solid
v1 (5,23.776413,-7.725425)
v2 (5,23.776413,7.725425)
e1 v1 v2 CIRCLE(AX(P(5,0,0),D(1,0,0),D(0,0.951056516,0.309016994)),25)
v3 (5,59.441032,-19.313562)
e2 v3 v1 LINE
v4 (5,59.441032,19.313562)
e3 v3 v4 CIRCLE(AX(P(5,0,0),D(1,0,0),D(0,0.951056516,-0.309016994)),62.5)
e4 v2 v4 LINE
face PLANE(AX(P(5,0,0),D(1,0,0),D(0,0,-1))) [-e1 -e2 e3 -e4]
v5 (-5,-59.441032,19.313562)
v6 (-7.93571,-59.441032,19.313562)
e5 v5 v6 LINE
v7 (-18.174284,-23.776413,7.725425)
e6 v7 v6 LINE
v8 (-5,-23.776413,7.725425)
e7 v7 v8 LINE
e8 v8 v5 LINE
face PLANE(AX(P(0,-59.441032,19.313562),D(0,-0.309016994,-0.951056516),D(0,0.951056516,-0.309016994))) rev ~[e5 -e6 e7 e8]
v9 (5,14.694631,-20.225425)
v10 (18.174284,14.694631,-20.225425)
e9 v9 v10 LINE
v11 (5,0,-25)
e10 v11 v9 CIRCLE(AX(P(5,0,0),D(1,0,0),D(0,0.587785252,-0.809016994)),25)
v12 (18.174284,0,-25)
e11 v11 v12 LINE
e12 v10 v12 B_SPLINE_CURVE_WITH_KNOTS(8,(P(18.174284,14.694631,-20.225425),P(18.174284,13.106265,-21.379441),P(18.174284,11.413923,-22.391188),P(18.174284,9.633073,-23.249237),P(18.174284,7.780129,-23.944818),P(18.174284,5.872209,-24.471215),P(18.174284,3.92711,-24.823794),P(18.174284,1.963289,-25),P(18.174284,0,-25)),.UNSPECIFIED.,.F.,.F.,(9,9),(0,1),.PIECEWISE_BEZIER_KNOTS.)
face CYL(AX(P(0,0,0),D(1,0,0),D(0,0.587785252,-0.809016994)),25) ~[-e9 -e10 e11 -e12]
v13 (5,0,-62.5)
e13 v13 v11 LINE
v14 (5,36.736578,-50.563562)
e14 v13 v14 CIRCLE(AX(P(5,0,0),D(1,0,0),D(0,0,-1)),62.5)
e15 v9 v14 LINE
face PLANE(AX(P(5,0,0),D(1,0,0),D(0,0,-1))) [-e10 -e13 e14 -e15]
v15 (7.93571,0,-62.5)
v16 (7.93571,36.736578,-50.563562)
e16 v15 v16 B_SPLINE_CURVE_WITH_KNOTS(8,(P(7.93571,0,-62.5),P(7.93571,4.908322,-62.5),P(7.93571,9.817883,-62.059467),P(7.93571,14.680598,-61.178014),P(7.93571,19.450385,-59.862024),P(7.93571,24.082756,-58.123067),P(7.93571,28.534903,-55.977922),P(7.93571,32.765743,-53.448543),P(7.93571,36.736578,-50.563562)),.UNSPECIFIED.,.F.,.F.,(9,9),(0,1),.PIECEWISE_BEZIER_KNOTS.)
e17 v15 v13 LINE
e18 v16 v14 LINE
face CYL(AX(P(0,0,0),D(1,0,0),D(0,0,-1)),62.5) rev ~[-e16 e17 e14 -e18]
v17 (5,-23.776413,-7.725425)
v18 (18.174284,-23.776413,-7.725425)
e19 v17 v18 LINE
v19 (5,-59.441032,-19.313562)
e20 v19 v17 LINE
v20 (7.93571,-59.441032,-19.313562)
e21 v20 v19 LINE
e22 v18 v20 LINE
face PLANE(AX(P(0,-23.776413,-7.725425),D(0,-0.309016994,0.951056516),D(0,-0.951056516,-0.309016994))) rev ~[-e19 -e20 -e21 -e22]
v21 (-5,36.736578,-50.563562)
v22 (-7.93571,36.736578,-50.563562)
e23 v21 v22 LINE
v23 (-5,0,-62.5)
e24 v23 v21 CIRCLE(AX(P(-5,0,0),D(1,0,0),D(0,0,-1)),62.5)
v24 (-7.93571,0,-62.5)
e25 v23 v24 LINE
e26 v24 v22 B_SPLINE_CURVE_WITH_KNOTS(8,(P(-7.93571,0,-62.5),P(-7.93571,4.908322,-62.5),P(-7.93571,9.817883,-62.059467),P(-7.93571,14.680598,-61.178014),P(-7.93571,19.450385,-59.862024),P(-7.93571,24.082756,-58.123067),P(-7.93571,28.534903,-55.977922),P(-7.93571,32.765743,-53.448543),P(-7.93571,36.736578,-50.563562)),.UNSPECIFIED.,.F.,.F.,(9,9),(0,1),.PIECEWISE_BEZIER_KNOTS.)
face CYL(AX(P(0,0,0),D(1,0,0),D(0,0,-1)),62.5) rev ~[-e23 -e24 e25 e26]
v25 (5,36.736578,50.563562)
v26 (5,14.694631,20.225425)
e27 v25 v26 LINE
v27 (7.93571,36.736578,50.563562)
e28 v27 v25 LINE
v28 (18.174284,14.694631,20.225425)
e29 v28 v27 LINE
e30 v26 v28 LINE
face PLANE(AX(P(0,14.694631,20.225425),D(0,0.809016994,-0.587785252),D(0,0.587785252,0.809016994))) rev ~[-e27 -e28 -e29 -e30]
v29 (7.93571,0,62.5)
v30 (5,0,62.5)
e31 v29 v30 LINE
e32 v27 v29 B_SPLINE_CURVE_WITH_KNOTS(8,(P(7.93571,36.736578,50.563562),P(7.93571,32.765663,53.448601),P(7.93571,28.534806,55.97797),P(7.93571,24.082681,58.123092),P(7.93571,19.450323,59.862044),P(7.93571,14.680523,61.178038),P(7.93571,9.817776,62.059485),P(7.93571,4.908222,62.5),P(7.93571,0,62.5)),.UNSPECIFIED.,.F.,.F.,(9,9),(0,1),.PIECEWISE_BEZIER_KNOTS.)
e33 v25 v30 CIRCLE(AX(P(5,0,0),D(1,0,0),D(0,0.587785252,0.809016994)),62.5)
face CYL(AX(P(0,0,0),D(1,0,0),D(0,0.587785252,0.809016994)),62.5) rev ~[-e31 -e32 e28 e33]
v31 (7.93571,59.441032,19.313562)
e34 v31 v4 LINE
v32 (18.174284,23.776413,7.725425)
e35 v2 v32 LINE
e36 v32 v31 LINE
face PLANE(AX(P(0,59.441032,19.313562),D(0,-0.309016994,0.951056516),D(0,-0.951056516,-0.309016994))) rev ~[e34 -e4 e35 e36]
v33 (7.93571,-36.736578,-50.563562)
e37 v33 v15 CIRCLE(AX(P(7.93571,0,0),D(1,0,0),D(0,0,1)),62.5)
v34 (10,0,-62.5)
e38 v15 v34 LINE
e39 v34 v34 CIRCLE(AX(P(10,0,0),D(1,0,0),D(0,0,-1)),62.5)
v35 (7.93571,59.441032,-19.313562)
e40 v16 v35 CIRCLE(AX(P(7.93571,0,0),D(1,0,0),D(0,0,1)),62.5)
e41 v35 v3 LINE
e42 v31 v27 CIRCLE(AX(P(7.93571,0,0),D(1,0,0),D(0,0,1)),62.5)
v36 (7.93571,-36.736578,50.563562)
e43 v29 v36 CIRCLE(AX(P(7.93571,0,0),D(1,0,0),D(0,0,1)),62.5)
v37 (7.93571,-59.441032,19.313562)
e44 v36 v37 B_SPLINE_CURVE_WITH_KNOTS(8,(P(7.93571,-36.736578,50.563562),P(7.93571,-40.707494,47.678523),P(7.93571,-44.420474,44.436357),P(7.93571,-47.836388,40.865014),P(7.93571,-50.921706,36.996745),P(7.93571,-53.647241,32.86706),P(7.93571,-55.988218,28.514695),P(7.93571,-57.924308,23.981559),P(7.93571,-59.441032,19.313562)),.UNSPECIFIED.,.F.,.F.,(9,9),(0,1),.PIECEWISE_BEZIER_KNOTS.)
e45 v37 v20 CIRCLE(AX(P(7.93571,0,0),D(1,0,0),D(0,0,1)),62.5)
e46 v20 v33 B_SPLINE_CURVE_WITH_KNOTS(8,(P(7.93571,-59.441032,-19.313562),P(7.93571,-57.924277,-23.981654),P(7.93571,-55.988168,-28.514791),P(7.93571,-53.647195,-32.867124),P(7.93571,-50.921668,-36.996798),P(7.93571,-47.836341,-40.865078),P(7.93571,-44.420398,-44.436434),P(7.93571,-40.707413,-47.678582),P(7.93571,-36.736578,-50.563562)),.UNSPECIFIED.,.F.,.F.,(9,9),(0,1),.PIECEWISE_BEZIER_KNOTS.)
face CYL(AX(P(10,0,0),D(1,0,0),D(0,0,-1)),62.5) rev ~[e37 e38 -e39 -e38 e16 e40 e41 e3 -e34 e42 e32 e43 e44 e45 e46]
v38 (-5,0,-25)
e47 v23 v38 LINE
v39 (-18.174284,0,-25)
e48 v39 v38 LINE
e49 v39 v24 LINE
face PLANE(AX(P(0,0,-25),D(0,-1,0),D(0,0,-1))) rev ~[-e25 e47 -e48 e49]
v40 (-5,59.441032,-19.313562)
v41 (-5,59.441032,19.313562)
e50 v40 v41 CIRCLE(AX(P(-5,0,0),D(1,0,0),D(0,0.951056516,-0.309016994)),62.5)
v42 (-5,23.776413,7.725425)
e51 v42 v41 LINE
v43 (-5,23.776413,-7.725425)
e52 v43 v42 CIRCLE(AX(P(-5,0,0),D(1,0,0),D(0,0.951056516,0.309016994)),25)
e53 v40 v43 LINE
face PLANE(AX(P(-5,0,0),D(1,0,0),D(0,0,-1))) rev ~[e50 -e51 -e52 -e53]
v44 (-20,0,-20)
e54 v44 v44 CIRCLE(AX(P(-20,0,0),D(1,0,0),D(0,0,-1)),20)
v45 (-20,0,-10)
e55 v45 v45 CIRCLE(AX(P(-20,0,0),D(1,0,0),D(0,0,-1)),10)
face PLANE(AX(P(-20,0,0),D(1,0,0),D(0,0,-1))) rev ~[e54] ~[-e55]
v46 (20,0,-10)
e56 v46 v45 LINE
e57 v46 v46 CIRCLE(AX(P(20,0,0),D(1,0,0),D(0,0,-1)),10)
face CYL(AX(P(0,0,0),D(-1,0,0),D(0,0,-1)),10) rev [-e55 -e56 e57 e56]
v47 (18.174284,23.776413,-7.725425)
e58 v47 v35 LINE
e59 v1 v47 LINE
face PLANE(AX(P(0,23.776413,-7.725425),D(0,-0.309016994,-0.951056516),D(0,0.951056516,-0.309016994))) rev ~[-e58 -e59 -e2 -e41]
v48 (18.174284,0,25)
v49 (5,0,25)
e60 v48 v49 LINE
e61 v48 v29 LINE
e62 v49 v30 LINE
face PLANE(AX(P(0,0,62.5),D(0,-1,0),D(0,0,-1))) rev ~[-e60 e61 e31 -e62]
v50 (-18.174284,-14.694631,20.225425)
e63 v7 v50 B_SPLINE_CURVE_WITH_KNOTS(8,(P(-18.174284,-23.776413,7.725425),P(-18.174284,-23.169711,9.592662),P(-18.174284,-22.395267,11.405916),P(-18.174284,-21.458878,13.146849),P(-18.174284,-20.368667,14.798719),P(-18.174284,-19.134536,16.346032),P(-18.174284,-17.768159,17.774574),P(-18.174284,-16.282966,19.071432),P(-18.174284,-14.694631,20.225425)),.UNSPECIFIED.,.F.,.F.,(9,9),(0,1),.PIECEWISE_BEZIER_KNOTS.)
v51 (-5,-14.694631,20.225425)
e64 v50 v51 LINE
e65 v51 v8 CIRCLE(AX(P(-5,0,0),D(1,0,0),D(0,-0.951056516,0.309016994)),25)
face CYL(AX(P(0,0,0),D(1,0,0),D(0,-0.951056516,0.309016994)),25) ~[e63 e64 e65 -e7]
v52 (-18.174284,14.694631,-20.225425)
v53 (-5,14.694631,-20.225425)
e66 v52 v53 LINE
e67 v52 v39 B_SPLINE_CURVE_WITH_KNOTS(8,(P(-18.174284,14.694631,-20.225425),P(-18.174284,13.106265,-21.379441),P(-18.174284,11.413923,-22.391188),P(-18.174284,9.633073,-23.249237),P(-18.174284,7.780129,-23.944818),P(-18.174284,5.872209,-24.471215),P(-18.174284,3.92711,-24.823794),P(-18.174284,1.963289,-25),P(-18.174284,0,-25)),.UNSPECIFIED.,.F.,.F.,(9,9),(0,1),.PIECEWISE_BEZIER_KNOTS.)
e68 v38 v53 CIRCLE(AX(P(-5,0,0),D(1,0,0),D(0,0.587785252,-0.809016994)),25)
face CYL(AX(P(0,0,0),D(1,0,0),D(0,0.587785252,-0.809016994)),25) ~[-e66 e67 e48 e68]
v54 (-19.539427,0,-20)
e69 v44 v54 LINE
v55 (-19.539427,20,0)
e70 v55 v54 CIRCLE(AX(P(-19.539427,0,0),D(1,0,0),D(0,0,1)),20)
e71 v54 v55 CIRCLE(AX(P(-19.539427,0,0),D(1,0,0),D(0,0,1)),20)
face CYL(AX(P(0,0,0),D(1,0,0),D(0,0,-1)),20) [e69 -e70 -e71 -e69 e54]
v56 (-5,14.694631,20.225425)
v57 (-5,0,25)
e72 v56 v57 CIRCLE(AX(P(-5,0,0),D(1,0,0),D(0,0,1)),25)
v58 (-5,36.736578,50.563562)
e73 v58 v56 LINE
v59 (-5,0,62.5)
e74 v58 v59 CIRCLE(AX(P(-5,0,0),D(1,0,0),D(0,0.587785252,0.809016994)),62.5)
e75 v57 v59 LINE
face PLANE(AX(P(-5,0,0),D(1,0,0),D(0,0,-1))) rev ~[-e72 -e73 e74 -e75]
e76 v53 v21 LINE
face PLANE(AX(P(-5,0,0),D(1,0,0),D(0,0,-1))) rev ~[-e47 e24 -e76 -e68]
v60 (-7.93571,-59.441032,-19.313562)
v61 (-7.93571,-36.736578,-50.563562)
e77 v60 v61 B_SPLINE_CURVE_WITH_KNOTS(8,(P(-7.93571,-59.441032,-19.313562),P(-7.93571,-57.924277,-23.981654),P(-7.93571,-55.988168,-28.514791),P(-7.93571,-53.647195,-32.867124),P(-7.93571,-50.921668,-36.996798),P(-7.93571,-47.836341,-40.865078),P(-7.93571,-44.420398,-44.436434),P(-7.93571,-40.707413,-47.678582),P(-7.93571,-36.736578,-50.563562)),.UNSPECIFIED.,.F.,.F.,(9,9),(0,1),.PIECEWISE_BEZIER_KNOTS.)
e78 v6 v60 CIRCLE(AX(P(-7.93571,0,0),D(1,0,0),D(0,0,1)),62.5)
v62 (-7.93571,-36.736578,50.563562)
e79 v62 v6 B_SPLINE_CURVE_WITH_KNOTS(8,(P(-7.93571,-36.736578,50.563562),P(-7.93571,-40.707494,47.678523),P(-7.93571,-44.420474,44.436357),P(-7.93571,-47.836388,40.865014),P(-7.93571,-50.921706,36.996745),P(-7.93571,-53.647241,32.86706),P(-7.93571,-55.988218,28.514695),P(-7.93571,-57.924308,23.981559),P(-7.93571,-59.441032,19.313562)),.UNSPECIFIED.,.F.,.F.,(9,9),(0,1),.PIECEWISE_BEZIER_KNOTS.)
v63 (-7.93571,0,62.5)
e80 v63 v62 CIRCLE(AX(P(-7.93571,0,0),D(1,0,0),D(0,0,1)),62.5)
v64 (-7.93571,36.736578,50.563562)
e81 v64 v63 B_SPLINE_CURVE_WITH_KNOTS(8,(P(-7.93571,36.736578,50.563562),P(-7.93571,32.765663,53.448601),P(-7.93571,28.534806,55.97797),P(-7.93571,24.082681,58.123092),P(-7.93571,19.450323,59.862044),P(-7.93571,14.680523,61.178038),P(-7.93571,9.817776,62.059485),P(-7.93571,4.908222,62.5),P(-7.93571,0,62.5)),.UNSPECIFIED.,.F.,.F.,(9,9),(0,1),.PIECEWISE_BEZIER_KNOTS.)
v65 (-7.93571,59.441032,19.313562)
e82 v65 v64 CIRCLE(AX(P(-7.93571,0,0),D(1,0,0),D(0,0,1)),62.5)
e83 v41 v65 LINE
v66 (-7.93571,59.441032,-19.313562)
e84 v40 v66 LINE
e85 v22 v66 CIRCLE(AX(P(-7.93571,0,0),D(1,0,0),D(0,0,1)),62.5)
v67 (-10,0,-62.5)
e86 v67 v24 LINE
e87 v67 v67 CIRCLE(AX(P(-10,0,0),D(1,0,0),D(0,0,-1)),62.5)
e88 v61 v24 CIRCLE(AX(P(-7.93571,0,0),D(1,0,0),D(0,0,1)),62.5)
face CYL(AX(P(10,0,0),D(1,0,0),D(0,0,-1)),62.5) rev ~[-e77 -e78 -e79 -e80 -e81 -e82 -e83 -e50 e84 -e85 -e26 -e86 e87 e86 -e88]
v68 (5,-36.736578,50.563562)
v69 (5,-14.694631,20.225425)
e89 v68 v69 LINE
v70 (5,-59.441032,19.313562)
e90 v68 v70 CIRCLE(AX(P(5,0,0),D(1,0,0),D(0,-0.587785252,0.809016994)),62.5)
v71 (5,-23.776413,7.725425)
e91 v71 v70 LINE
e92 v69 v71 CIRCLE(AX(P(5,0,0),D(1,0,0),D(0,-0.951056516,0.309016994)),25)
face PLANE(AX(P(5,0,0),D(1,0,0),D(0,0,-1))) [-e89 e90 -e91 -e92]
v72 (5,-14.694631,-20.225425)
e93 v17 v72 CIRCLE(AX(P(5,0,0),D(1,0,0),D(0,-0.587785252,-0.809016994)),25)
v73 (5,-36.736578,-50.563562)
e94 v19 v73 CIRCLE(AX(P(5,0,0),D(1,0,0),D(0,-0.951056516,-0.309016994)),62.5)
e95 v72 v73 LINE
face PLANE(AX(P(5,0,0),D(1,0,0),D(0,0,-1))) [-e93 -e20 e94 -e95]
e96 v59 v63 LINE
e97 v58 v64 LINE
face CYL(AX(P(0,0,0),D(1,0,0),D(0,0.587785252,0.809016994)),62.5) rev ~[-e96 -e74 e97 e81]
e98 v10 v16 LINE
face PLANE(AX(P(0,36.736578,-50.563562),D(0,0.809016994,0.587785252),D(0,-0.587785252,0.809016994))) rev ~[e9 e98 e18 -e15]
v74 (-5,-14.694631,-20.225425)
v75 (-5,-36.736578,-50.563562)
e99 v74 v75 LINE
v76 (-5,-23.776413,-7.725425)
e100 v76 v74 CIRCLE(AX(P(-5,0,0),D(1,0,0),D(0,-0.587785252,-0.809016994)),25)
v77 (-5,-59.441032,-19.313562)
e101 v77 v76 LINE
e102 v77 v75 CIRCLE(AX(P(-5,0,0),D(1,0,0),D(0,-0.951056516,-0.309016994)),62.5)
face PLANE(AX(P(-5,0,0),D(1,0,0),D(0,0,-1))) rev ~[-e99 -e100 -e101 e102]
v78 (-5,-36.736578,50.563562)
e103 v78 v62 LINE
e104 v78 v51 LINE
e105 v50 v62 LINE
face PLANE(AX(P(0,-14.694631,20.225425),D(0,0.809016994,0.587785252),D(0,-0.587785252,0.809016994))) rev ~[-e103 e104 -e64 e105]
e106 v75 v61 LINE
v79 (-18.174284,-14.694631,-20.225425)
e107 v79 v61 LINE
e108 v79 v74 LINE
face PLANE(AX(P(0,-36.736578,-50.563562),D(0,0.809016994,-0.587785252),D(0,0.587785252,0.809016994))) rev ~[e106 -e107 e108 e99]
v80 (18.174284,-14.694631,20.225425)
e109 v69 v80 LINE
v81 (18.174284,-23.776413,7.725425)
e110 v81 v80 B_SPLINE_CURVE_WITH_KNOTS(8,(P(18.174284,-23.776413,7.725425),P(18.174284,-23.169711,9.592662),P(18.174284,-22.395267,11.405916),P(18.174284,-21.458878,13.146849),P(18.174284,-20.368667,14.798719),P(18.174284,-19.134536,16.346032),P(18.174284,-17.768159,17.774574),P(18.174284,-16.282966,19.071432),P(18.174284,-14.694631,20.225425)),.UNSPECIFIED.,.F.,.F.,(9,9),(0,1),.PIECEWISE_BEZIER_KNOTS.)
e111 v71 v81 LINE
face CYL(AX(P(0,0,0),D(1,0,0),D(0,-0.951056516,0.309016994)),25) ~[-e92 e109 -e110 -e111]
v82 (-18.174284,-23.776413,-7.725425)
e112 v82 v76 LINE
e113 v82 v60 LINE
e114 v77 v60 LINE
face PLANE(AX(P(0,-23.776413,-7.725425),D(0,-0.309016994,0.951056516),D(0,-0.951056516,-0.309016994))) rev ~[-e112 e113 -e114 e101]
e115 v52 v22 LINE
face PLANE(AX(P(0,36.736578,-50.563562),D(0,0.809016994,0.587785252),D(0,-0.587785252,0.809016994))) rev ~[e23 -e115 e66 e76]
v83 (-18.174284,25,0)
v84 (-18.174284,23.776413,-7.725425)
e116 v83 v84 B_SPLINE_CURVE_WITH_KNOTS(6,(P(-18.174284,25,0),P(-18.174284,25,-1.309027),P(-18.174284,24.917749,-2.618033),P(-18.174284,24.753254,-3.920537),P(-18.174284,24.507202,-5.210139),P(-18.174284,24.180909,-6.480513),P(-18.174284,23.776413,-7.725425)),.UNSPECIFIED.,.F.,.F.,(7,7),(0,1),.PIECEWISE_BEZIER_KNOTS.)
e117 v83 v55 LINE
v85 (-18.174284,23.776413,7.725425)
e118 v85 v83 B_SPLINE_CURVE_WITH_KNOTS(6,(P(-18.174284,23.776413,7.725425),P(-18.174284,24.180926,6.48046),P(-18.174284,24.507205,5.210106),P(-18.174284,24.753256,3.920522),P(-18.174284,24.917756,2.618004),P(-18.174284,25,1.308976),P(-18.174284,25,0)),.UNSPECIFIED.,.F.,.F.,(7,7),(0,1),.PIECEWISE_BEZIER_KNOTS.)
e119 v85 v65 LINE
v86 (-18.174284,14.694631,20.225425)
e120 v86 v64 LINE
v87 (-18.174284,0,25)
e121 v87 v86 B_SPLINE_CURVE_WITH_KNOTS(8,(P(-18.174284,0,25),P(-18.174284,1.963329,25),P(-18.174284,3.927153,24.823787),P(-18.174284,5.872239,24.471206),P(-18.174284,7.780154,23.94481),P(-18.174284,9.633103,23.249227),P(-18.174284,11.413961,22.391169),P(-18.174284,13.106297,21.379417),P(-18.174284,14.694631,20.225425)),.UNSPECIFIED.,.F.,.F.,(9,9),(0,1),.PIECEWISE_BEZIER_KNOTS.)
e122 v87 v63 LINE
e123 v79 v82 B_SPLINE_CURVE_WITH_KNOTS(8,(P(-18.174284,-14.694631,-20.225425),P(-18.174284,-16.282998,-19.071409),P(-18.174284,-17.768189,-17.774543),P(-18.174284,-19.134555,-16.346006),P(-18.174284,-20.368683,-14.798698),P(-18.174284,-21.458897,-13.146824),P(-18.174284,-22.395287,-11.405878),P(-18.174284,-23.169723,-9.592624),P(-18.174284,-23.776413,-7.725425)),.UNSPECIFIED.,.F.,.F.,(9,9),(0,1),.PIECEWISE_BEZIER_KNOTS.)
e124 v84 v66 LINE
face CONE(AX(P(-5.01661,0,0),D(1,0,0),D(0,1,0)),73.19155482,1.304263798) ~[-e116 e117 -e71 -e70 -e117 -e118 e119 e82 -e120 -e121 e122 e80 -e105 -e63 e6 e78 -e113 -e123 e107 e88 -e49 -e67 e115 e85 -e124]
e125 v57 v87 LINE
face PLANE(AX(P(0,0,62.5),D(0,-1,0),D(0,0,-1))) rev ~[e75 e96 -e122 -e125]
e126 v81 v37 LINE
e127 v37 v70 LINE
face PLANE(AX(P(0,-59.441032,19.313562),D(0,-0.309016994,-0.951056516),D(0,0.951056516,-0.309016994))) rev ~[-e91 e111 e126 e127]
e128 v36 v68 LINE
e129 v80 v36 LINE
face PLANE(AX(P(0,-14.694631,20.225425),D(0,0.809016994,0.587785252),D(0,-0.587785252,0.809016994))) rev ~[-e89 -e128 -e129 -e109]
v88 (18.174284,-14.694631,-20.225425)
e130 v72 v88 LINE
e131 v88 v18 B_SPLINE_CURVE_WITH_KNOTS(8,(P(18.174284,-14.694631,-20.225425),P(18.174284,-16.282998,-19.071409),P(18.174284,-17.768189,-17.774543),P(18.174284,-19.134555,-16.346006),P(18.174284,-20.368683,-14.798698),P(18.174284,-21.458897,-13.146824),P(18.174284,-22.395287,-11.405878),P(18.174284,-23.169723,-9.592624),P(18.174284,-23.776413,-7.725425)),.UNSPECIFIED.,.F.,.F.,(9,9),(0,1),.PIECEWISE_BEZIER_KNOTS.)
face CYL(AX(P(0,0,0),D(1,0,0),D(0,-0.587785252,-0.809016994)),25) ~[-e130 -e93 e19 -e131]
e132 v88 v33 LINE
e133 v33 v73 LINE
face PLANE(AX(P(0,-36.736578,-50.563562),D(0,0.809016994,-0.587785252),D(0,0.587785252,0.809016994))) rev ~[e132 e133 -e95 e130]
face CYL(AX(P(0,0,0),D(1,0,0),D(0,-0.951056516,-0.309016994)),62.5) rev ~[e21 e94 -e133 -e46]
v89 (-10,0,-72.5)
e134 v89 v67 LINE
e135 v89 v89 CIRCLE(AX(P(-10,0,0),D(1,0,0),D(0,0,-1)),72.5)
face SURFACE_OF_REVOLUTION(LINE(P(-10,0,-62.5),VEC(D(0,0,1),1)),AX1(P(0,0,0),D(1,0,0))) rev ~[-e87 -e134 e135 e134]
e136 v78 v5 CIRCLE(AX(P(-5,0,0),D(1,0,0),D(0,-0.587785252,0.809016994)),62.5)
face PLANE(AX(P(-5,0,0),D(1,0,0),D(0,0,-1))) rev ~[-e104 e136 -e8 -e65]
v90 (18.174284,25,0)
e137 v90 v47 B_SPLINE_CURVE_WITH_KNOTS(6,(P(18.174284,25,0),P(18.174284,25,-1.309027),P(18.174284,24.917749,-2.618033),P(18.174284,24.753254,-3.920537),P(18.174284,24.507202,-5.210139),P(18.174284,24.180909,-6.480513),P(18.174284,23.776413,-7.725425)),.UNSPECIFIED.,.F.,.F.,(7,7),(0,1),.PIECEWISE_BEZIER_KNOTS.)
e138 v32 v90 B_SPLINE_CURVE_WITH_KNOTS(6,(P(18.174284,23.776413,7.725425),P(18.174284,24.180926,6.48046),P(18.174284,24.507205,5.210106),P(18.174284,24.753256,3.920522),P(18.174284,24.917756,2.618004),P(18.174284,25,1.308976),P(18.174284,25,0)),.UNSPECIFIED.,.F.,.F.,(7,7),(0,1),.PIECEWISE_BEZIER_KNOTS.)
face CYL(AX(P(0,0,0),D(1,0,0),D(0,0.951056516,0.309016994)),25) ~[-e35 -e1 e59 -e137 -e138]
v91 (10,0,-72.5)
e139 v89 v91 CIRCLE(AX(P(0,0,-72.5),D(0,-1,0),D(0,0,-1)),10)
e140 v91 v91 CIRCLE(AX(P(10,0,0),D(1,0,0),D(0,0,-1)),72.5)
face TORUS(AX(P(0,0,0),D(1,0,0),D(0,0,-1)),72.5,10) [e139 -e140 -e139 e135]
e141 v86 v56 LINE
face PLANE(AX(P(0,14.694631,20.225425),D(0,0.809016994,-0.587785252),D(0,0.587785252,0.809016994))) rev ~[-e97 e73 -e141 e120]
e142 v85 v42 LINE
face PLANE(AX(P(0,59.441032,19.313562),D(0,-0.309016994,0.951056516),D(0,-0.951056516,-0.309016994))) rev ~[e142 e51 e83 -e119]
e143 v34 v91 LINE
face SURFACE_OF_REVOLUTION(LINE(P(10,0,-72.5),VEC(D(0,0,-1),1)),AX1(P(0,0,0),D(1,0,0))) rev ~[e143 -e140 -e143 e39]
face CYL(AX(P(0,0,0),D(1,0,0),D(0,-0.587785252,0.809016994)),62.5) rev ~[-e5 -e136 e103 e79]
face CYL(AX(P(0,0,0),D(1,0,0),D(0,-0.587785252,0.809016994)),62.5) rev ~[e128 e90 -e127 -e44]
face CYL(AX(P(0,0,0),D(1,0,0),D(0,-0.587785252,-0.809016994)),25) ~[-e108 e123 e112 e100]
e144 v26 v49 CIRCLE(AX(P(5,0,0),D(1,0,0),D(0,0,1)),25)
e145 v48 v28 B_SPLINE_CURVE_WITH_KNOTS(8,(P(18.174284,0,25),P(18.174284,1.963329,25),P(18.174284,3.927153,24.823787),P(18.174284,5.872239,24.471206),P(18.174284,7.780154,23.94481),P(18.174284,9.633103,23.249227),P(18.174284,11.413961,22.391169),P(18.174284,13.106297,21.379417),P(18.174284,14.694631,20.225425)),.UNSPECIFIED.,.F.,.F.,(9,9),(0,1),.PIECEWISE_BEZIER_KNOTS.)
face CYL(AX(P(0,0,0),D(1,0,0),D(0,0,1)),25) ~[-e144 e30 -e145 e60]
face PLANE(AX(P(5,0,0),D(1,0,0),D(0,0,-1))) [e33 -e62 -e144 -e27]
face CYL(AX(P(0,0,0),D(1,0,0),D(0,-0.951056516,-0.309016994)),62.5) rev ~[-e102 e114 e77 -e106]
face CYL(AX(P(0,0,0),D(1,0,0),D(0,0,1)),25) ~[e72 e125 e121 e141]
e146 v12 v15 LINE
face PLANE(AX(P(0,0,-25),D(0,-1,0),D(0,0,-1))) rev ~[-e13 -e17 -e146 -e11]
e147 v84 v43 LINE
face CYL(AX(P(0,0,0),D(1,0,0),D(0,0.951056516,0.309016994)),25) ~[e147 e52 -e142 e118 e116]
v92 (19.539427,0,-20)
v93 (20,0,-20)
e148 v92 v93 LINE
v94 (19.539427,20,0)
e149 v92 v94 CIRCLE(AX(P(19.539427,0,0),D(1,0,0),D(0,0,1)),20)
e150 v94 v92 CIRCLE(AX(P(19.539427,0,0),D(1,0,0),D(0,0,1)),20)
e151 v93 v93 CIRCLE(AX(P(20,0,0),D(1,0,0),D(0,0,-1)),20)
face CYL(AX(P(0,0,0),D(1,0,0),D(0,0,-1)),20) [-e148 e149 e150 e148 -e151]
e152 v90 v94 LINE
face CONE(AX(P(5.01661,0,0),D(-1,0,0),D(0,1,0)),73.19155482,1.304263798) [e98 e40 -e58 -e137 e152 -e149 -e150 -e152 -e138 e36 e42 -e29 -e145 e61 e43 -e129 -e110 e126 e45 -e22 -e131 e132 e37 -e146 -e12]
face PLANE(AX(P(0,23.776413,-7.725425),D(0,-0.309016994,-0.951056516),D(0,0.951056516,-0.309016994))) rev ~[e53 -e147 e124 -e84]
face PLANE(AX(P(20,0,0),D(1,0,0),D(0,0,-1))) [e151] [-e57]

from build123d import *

# Parameters (mm, degrees)
SKETCH4_R            = 72.5
BOSS_EXTRUDE7_DEPTH  = 25
SKETCH13_R           = 72.5
BOSS_EXTRUDE8_DEPTH  = 5
SKETCH14_R           = 20
CUT_EXTRUDE1_DEPTH   = 25
SKETCH15_R           = 20
SKETCH15_R_2         = 10
BOSS_EXTRUDE10_DEPTH = 20


with BuildPart() as part:
    # Sweep1: sweep along a path in Sketch1
    with BuildLine(Plane(origin=(0, 0, 0), x_dir=(0, 0, -1), z_dir=(1, 0, 0))) as sweep1_path:
        CenterArc((0, 0), 72.5, 0, 360)
    # Sketch3 → Sweep1 (sweep)
    with BuildSketch(Plane.XY):
        with BuildLine():
            Line((10, 72.5), (10, 62.5))
            Line((10, 62.5), (-10, 62.5))
            Line((-10, 62.5), (-10, 72.5))
            ThreePointArc((-10, 72.5), (0, 82.5), (10, 72.5))
        make_face()
    sweep(path=sweep1_path.line)



with BuildPart() as body_2:
    # Sketch4 → Boss-Extrude7 (new body, symmetric)
    with BuildSketch(Plane(origin=(0, 0, 0), x_dir=(0, 0, -1), z_dir=(1, 0, 0))):
        Circle(SKETCH4_R)
        with BuildLine():
            Line((25, 0), (62.5, 0))
            ThreePointArc((62.5, 0), (59.441032268, 19.313562148), (50.563562148, 36.736578268))
            Line((50.563562148, 36.736578268), (20.225424859, 14.694631307))
            ThreePointArc((20.225424859, 14.694631307), (23.776412907, 7.725424859), (25, 0))
        make_face(mode=Mode.SUBTRACT)
        with BuildLine():
            Line((7.725424859, 23.776412907), (19.313562148, 59.441032268))
            ThreePointArc((19.313562148, 59.441032268), (0, 62.5), (-19.313562148, 59.441032268))
            Line((-19.313562148, 59.441032268), (-7.725424859, 23.776412907))
            ThreePointArc((-7.725424859, 23.776412907), (0, 25), (7.725424859, 23.776412907))
        make_face(mode=Mode.SUBTRACT)
        with BuildLine():
            Line((7.725424859, -23.776412907), (19.313562148, -59.441032268))
            ThreePointArc((19.313562148, -59.441032268), (36.736578268, -50.563562148), (50.563562148, -36.736578268))
            Line((50.563562148, -36.736578268), (20.225424859, -14.694631307))
            ThreePointArc((20.225424859, -14.694631307), (14.694631307, -20.225424859), (7.725424859, -23.776412907))
        make_face(mode=Mode.SUBTRACT)
        with BuildLine():
            Line((-20.225424859, -14.694631307), (-50.563562148, -36.736578268))
            ThreePointArc((-50.563562148, -36.736578268), (-36.736578268, -50.563562148), (-19.313562148, -59.441032268))
            Line((-19.313562148, -59.441032268), (-7.725424859, -23.776412907))
            ThreePointArc((-7.725424859, -23.776412907), (-14.694631307, -20.225424859), (-20.225424859, -14.694631307))
        make_face(mode=Mode.SUBTRACT)
        with BuildLine():
            Line((-20.225424859, 14.694631307), (-50.563562148, 36.736578268))
            ThreePointArc((-50.563562148, 36.736578268), (-59.441032268, 19.313562148), (-62.5, 0))
            Line((-62.5, 0), (-25, 0))
            ThreePointArc((-25, 0), (-23.776412907, 7.725424859), (-20.225424859, 14.694631307))
        make_face(mode=Mode.SUBTRACT)
    extrude(amount=BOSS_EXTRUDE7_DEPTH, both=True)

    # Sketch12 → Cut-Revolve11 (revolve, cut)
    with BuildSketch(Plane.XY):
        Polygon((-25, 0), (-32.140648249, 0), (-32.140648249, 73.19155482), (-5.016609541, 73.19155482), align=None)
        Polygon((25, 0), (32.140648249, 0), (32.140648249, 73.19155482), (5.016609541, 73.19155482), align=None)
    revolve(axis=Axis((-46.840153715, 0, 0), (1, 0, 0)), mode=Mode.SUBTRACT)


with BuildPart() as part_1:
    add(part.part)

    add(body_2.part)  # Boss-Extrude8 merges body 2
    # Sketch13 → Boss-Extrude8 (add, symmetric)
    with BuildSketch(Plane(origin=(0, 0, 0), x_dir=(0, 0, -1), z_dir=(1, 0, 0))):
        Circle(SKETCH13_R)
    extrude(amount=BOSS_EXTRUDE8_DEPTH, both=True)

    # Sketch14 → Cut-Extrude1 (cut, symmetric)
    with BuildSketch(Plane(origin=(0, 0, 0), x_dir=(0, 0, -1), z_dir=(1, 0, 0))):
        Circle(SKETCH14_R)
    extrude(amount=CUT_EXTRUDE1_DEPTH, both=True, mode=Mode.SUBTRACT)

    # Sketch15 → Boss-Extrude10 (add, symmetric)
    with BuildSketch(Plane(origin=(0, 0, 0), x_dir=(0, 0, -1), z_dir=(1, 0, 0))):
        Circle(SKETCH15_R)
        Circle(SKETCH15_R_2, mode=Mode.SUBTRACT)
    extrude(amount=BOSS_EXTRUDE10_DEPTH, both=True)


solid = part_1.part
